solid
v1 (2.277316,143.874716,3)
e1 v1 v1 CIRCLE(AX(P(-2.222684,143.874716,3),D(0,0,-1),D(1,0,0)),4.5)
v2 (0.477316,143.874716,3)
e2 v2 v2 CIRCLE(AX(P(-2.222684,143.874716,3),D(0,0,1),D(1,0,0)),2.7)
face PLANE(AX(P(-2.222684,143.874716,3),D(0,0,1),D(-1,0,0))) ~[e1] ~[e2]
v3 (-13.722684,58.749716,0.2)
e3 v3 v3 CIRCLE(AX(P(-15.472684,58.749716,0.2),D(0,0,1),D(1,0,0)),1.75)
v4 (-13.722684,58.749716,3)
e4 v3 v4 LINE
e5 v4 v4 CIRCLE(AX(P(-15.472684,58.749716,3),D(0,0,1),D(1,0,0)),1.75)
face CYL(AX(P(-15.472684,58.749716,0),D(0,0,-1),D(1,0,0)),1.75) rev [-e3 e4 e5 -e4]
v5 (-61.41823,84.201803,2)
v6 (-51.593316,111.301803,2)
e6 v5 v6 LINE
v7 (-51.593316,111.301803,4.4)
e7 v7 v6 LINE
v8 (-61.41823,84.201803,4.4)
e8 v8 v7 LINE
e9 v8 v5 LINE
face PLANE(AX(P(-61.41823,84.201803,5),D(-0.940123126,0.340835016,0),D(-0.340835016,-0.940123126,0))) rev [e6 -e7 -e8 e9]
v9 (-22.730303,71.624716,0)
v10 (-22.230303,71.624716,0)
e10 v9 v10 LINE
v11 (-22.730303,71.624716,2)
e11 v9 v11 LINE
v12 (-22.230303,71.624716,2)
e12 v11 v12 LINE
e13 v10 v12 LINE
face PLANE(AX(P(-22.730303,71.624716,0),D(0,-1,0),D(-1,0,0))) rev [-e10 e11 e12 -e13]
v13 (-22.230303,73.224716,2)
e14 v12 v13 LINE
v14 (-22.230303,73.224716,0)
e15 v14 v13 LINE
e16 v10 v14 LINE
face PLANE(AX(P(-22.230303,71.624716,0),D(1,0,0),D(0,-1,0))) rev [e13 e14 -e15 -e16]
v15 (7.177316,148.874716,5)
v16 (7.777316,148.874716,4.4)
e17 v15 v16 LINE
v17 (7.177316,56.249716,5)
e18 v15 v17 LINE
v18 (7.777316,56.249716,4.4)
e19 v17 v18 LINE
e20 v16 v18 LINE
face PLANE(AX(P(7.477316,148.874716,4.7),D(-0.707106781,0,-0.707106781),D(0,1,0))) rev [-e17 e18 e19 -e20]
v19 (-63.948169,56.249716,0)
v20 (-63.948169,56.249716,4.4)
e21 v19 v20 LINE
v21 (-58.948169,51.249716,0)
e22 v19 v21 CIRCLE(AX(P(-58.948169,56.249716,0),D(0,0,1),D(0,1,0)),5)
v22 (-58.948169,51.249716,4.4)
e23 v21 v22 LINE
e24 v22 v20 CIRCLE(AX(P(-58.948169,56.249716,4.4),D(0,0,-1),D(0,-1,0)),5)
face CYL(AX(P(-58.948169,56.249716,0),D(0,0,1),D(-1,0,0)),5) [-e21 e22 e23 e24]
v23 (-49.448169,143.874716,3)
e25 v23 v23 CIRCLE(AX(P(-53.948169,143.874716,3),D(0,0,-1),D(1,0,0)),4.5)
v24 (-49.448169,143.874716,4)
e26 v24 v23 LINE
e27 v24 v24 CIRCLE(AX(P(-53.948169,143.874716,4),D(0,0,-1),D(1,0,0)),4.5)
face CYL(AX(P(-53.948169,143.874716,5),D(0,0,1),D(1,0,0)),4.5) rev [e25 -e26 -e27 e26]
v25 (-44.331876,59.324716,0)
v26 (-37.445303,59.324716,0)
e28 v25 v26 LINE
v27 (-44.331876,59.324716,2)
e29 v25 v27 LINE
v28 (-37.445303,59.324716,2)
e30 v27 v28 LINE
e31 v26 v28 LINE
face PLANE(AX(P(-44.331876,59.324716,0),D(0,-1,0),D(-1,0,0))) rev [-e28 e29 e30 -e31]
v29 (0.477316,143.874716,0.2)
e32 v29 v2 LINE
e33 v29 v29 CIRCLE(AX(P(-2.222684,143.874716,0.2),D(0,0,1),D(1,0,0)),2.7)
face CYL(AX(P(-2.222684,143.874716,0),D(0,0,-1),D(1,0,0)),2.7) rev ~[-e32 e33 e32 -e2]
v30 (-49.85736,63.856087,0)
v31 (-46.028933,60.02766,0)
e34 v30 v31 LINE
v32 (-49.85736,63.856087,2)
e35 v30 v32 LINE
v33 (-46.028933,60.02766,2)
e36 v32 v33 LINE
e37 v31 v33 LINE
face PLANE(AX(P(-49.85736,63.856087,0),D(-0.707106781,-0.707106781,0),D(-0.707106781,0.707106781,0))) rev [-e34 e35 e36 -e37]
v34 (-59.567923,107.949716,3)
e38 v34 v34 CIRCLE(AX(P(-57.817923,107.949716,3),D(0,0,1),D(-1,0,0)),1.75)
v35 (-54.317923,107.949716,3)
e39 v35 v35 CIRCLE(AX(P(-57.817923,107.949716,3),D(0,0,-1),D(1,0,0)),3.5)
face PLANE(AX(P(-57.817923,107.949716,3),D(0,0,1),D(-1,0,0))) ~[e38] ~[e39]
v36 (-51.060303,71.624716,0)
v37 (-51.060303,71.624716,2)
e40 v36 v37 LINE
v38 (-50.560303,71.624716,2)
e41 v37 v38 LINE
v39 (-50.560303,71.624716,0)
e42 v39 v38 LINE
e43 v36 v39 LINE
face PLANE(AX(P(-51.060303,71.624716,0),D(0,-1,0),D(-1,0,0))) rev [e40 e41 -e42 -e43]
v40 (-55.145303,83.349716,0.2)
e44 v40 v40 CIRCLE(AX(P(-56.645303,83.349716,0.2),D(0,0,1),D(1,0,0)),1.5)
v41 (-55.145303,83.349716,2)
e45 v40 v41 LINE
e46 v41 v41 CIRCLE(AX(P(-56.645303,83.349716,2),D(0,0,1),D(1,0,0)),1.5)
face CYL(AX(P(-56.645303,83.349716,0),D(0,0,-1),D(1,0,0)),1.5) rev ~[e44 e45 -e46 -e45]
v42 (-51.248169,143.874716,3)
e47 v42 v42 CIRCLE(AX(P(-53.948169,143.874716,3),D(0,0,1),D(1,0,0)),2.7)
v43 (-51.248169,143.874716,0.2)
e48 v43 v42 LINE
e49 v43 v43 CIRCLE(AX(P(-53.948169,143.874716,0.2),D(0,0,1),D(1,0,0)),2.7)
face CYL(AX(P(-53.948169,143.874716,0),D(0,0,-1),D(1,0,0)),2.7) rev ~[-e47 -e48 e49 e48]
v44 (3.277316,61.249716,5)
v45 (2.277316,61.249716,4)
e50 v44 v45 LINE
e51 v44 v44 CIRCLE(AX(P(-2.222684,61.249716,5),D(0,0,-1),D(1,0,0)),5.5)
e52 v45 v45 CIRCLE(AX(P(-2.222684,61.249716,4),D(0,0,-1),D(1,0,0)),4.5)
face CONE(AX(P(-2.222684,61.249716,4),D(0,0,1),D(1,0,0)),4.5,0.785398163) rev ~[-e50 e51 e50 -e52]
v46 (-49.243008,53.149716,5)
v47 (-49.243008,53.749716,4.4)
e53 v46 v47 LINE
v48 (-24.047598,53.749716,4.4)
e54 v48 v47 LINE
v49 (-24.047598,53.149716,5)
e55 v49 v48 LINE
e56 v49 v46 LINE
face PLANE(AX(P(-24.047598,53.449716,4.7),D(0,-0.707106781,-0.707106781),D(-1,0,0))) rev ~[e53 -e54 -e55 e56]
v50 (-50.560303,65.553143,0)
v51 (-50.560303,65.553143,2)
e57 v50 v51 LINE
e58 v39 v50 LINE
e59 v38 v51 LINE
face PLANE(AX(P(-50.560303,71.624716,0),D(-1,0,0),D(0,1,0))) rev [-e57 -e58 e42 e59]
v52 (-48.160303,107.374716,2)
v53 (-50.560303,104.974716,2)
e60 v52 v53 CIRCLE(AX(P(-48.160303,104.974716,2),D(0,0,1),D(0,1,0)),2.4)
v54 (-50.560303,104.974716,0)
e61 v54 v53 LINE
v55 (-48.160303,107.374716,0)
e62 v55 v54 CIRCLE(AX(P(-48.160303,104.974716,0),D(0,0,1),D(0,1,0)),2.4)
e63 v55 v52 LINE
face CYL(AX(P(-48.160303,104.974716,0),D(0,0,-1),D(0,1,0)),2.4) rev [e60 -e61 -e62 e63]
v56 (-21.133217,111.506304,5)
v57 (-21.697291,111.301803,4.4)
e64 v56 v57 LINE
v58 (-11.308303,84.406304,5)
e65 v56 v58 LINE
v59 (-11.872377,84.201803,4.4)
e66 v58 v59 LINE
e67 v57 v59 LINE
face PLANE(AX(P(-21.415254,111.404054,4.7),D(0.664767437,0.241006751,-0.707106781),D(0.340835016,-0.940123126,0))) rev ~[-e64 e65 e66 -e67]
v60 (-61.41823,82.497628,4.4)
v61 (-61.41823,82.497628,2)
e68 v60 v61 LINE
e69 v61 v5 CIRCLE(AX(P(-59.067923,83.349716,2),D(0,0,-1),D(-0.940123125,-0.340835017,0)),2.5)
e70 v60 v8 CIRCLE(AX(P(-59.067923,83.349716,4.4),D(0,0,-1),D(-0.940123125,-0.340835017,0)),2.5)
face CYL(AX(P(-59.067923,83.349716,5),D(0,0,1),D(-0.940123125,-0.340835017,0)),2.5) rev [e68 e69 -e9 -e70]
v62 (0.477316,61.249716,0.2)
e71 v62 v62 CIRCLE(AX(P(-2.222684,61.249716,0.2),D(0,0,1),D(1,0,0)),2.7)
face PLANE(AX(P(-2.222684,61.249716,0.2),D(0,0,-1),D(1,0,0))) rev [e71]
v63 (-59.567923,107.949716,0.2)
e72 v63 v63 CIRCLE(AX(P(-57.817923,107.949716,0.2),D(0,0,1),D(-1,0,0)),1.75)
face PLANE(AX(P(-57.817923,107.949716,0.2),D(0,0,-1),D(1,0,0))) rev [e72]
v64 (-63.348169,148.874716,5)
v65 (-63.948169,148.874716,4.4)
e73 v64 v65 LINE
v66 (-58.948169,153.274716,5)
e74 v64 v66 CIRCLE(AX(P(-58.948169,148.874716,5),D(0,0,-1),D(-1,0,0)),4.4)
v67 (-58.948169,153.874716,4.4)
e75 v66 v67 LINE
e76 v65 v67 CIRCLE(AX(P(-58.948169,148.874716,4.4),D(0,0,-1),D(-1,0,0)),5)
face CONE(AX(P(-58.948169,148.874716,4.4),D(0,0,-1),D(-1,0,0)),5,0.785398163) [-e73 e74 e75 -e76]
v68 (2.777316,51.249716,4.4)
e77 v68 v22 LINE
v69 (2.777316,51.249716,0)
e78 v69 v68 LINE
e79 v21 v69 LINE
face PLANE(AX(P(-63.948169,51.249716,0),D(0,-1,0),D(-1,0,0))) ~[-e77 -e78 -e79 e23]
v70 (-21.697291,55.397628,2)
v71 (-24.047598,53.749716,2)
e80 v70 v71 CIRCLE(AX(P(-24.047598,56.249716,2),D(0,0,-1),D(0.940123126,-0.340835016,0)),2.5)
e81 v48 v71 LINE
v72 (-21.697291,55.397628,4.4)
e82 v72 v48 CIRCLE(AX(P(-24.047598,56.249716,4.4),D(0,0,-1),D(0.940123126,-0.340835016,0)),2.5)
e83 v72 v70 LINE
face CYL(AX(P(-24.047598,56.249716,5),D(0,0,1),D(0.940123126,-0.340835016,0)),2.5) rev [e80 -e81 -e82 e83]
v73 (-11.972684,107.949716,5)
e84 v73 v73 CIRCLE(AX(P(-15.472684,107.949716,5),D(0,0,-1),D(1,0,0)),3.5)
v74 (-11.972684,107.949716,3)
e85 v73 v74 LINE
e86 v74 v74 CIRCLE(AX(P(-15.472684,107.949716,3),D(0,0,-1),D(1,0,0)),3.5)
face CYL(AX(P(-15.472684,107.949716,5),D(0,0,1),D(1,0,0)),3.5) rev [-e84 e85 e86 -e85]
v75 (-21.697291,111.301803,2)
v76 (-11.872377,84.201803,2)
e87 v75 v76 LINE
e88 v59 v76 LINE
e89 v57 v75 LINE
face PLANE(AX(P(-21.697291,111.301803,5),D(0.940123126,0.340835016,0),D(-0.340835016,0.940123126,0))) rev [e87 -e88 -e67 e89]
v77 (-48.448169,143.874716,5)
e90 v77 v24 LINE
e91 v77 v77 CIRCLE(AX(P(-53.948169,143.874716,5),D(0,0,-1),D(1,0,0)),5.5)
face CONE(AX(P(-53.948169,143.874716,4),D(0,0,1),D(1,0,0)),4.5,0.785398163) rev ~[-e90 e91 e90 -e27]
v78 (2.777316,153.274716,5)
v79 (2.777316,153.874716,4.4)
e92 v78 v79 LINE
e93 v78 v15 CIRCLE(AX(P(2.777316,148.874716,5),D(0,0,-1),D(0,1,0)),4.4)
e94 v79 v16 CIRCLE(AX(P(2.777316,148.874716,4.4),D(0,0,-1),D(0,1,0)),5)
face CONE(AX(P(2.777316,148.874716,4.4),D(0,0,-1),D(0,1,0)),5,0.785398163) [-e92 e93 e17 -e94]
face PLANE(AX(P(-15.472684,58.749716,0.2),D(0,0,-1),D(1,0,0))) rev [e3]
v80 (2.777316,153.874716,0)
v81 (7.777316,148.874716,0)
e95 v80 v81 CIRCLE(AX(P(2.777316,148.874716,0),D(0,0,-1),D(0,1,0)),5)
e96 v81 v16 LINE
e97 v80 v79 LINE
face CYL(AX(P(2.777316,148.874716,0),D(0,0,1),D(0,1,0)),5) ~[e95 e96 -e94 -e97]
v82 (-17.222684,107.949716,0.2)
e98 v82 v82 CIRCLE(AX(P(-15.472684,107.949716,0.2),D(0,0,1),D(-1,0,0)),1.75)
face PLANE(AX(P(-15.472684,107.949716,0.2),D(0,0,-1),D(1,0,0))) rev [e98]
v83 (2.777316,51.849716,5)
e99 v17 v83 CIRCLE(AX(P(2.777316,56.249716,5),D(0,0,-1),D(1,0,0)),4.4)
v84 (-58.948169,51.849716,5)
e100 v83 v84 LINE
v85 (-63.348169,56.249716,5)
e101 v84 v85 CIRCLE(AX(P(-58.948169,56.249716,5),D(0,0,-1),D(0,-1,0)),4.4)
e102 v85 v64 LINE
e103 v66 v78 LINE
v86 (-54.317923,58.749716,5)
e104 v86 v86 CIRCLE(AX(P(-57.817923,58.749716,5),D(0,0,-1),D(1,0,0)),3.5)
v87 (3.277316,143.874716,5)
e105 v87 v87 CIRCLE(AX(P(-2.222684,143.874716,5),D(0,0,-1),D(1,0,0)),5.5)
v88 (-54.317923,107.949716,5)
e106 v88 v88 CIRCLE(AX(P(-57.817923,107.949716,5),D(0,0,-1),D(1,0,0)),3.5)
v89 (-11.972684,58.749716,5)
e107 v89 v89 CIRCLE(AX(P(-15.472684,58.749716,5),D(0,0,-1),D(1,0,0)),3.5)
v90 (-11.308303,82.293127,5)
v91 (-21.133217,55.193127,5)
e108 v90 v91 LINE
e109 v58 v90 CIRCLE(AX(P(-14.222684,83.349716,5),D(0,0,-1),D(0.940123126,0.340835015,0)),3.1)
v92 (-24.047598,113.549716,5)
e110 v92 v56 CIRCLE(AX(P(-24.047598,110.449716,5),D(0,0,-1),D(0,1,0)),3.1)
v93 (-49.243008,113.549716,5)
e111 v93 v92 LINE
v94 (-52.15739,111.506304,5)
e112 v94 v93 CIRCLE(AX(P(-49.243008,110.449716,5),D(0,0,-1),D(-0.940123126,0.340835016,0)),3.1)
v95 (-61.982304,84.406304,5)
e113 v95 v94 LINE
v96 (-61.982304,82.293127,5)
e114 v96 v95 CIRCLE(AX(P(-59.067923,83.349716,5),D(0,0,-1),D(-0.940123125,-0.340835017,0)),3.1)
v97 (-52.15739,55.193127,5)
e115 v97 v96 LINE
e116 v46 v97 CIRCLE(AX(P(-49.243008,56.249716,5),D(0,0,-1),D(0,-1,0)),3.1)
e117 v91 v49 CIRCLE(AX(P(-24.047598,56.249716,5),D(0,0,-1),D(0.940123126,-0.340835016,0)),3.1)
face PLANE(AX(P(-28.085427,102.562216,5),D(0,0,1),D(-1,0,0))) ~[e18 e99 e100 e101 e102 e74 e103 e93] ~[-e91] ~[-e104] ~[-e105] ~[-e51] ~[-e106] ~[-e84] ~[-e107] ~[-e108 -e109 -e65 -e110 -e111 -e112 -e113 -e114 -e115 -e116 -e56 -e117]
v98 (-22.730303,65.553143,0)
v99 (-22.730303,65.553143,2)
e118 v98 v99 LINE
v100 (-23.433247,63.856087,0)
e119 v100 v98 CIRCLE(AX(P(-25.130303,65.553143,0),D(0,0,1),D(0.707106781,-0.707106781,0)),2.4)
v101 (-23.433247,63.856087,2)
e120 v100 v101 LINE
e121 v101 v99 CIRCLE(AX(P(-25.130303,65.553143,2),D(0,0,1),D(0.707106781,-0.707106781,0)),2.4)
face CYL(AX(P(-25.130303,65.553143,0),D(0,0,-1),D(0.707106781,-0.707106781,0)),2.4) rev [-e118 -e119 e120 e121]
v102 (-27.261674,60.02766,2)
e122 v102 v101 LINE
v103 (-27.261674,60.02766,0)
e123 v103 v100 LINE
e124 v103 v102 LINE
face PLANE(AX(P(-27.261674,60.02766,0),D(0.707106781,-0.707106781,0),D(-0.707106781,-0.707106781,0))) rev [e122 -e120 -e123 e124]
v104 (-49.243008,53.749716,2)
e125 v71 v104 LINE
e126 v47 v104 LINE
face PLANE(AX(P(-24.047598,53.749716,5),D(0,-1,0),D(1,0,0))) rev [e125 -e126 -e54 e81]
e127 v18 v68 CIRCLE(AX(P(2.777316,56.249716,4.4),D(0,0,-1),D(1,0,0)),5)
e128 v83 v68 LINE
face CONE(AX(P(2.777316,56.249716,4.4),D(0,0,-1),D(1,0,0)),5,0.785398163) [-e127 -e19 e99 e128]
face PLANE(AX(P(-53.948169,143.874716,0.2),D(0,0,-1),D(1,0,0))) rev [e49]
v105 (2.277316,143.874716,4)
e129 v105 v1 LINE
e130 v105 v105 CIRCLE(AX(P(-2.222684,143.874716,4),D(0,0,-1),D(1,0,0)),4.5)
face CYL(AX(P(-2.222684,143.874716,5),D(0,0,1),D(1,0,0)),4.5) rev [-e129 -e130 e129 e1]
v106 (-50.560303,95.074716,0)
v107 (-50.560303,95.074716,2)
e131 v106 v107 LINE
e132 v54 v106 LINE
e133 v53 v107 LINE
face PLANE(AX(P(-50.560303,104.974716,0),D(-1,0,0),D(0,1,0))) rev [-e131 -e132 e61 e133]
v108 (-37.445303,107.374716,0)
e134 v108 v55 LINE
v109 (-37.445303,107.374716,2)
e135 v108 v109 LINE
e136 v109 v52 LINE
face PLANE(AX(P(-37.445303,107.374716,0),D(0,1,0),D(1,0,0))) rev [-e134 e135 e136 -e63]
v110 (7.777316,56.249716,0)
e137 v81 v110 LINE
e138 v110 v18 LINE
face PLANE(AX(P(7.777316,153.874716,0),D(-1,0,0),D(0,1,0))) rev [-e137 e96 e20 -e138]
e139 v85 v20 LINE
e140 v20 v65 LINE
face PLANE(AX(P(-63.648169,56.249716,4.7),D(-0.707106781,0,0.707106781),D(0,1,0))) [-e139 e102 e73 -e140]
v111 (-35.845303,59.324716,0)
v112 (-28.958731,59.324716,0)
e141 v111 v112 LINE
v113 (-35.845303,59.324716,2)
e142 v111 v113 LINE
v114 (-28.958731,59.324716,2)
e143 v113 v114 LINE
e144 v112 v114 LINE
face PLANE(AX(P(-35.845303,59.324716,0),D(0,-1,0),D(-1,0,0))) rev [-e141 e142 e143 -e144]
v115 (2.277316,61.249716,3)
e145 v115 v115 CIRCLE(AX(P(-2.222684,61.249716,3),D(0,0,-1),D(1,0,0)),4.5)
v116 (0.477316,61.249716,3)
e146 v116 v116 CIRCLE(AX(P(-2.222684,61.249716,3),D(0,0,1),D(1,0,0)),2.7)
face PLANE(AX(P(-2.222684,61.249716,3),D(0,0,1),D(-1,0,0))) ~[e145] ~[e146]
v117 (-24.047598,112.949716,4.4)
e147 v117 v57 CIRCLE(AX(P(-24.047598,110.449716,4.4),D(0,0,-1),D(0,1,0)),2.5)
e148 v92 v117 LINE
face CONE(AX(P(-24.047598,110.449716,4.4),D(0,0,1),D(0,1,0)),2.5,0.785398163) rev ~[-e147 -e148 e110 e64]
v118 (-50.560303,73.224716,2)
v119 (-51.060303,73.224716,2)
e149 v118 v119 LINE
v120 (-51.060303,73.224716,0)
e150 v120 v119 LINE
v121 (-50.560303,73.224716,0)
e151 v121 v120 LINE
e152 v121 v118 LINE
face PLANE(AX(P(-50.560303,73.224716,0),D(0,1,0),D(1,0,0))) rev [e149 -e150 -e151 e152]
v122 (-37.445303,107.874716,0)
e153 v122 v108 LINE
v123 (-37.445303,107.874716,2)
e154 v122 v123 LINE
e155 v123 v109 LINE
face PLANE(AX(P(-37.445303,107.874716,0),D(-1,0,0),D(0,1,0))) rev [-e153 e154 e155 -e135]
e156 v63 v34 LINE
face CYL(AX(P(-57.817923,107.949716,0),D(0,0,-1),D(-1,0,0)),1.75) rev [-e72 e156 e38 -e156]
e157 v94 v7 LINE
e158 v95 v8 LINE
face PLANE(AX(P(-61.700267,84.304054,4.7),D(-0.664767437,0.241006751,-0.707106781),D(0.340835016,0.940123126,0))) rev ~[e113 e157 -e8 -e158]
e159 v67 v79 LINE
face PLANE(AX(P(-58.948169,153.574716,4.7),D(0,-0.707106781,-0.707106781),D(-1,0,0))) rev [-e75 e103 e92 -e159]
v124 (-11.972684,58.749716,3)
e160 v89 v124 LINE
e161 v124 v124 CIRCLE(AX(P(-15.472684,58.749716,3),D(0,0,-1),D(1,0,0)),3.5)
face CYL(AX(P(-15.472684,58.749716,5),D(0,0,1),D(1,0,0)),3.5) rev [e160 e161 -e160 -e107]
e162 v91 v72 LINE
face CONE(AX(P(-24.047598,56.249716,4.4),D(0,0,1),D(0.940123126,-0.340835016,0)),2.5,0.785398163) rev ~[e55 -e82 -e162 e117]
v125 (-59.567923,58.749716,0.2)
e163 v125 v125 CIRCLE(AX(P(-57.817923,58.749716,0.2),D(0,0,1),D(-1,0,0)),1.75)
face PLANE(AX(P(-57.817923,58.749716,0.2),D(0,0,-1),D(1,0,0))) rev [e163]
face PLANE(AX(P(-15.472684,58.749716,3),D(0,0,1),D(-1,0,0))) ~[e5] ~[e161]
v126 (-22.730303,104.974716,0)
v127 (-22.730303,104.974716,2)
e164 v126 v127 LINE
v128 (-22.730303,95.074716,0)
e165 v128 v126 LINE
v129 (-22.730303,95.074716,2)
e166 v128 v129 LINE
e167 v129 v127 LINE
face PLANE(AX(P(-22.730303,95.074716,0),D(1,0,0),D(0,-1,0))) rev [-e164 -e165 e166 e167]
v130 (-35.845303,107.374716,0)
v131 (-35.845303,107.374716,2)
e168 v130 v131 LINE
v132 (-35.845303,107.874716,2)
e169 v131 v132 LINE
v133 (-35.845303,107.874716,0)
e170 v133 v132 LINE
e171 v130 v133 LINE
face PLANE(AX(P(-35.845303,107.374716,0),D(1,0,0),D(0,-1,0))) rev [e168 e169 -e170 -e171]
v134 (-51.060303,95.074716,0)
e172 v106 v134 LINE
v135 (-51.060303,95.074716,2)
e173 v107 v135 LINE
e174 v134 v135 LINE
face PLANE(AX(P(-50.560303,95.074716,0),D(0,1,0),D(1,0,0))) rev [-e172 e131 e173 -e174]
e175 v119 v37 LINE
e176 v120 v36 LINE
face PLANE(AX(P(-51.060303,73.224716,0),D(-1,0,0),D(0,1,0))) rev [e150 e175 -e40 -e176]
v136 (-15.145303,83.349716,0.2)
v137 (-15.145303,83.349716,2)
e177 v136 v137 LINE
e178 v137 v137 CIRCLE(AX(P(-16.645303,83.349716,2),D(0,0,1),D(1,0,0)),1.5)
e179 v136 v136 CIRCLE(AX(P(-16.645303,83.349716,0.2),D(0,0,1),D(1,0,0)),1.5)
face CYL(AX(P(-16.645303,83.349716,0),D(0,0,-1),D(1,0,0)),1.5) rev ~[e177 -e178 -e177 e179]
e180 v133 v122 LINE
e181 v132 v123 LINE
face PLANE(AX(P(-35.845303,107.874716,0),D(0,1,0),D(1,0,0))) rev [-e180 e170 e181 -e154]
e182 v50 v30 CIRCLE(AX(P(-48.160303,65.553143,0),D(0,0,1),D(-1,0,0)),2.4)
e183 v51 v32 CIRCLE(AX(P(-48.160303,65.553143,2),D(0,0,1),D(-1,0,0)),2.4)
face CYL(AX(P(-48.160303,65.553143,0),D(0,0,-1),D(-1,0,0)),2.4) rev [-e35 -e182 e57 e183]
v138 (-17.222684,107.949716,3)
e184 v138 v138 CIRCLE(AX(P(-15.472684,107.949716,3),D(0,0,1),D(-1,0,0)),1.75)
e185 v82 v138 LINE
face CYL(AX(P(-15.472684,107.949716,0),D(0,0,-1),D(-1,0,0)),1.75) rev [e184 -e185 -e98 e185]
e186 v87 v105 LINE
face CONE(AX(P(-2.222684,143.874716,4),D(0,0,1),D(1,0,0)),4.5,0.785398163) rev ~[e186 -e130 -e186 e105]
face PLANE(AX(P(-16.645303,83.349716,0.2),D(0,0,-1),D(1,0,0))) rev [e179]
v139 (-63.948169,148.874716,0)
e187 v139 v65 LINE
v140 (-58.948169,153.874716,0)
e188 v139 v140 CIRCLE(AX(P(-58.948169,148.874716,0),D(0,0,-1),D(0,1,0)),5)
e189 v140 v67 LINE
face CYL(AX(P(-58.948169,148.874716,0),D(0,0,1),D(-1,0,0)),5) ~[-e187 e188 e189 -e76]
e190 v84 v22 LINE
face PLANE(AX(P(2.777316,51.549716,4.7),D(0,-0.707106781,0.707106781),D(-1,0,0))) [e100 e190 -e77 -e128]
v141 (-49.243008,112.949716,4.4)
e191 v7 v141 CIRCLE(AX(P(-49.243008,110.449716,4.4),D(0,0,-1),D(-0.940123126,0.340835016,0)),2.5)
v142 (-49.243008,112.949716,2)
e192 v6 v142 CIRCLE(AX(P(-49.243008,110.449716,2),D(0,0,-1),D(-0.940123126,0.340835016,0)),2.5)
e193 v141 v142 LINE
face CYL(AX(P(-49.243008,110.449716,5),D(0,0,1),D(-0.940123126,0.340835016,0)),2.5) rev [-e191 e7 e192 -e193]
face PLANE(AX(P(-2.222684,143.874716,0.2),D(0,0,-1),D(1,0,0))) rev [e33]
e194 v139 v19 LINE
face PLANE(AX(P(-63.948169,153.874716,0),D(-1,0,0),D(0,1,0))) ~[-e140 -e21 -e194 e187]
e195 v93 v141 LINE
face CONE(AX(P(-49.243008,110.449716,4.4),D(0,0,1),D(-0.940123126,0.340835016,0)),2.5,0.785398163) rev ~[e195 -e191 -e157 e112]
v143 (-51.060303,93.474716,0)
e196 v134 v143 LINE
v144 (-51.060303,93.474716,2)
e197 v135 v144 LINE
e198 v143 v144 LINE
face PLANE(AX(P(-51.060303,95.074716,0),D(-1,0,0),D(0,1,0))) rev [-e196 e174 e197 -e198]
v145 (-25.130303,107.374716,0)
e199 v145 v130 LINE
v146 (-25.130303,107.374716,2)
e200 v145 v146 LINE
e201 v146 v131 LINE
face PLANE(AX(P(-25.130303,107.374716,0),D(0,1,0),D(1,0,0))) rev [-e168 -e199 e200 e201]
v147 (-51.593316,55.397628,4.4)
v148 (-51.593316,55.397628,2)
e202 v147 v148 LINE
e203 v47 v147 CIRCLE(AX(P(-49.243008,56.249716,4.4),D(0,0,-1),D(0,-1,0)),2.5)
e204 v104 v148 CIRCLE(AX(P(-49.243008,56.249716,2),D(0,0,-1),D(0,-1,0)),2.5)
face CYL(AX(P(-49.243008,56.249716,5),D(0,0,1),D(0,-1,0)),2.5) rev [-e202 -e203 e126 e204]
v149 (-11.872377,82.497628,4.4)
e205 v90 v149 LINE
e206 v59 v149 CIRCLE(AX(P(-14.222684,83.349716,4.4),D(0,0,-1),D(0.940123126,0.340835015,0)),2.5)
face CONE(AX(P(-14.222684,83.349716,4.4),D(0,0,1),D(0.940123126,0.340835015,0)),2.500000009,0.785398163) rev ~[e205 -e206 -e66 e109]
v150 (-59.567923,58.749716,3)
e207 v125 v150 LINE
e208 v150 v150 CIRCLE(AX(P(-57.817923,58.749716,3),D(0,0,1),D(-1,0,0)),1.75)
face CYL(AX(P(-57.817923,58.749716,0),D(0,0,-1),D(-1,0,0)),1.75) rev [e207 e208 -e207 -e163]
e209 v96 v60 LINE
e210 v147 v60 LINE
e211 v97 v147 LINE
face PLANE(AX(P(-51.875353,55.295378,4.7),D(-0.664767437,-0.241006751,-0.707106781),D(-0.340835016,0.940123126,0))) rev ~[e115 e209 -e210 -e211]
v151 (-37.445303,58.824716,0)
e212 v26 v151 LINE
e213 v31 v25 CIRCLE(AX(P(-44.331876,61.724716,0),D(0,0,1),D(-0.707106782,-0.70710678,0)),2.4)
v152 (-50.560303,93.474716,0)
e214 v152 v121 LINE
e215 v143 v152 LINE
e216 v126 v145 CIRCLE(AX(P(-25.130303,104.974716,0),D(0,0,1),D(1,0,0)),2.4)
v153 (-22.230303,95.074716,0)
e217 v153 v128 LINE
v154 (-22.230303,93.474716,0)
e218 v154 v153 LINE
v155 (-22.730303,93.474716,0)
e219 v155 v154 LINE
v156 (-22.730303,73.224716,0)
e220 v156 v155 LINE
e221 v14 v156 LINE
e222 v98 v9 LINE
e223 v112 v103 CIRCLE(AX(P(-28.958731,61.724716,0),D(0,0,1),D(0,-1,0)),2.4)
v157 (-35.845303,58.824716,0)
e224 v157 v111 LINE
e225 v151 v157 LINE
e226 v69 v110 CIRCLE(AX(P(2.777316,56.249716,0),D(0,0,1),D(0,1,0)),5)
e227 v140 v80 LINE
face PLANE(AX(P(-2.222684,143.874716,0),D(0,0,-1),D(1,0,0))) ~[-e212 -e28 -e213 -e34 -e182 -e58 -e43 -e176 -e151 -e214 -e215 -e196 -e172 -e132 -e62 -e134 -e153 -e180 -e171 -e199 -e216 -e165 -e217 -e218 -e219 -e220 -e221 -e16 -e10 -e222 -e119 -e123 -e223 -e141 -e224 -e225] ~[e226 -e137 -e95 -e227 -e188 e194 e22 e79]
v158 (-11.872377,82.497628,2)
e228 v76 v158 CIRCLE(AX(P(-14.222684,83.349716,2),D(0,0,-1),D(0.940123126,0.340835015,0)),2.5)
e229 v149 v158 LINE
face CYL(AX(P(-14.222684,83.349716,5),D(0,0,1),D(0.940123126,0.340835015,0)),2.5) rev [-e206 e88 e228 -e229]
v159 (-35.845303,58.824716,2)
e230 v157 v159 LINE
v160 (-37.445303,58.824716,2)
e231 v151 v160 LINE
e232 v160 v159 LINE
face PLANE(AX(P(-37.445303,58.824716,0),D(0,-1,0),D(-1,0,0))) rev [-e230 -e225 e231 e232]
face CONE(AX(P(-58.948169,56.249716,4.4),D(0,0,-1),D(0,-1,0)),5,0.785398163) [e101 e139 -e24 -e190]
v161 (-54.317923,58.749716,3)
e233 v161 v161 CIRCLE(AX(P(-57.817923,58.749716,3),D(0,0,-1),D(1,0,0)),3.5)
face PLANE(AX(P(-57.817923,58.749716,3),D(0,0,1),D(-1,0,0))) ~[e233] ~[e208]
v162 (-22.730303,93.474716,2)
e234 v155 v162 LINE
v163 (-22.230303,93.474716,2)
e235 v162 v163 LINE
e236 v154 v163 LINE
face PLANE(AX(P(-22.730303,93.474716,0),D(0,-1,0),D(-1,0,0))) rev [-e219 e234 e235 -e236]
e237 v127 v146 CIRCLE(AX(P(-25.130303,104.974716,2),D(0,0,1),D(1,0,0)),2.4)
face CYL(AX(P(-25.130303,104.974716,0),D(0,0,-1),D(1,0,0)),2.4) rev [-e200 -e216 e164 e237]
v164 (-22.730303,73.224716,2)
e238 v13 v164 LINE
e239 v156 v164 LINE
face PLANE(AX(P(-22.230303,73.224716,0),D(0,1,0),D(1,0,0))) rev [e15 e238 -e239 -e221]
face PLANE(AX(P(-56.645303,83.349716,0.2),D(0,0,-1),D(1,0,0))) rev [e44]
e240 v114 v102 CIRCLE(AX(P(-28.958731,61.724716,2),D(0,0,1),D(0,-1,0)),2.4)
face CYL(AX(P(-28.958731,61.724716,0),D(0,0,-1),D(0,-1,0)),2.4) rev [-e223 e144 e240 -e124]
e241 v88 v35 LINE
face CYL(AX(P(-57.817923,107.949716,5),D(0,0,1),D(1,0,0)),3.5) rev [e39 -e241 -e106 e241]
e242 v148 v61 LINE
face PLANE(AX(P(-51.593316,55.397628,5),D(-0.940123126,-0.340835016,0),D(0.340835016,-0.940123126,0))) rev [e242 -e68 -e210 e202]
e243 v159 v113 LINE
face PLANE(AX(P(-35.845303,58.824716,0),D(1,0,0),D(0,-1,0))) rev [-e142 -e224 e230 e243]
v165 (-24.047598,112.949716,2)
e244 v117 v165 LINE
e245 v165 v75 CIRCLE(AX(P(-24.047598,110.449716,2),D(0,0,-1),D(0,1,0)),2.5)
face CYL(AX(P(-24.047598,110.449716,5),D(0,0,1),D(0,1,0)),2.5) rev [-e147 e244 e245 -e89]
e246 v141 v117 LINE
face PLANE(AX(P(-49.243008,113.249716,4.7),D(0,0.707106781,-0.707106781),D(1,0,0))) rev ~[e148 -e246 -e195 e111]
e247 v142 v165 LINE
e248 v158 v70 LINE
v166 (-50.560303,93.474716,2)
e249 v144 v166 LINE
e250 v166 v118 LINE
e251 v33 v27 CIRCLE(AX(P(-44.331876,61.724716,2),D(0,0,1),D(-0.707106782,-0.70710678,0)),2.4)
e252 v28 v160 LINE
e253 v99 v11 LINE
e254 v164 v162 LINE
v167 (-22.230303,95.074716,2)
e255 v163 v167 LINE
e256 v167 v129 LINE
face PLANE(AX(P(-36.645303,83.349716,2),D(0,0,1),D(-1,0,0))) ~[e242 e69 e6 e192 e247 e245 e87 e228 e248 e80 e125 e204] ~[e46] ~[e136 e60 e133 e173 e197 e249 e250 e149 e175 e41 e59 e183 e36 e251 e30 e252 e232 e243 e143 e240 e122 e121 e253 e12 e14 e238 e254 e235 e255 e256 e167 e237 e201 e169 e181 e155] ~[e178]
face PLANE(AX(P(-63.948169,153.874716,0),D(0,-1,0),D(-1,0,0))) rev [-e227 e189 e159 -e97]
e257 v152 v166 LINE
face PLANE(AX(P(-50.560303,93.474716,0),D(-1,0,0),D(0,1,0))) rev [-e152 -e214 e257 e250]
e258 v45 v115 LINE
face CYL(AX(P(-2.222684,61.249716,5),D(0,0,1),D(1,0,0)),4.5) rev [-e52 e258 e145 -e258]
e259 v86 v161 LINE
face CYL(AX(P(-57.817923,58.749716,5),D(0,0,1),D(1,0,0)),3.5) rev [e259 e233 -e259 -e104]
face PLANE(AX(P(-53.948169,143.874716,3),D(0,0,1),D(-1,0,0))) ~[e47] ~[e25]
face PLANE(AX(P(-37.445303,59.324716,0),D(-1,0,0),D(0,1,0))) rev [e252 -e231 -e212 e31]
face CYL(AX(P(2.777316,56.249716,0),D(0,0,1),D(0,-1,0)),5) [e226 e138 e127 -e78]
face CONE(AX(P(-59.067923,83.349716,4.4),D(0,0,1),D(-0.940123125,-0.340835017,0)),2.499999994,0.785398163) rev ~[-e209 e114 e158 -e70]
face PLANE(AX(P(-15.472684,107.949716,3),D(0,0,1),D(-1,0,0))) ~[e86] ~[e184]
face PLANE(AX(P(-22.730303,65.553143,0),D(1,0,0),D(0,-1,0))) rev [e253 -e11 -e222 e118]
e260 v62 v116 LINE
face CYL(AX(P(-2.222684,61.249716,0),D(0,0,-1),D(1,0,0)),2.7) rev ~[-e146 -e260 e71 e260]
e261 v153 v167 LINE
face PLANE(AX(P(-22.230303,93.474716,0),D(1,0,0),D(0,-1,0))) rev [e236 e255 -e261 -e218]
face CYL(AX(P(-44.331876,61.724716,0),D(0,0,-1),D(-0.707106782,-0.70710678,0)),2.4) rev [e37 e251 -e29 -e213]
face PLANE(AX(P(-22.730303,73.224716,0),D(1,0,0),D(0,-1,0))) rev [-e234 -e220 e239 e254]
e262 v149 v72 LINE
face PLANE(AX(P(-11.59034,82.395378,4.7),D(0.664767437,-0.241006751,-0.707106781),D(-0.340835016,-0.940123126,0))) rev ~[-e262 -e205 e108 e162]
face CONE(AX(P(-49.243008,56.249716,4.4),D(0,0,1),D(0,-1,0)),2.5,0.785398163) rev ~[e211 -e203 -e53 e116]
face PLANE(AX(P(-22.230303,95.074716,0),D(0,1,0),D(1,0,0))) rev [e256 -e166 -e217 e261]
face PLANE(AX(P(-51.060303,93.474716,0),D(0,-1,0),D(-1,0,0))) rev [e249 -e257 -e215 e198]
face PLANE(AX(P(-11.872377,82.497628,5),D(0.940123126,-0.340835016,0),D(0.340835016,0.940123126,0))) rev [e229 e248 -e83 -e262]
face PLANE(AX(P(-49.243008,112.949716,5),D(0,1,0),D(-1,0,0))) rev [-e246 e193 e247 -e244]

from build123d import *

# Parameters (mm, degrees)
SZKIC1_W                        = 71.725484412
SZKIC1_H                        = 102.625
SZKIC1_R                        = 2.7
SZKIC1_R_2                      = 1.5
DODANIE_WYCI_GNI_CIE1_DEPTH     = 5
WYTNIJ_WYCI_GNI_CIE1_START      = 5
WYTNIJ_WYCI_GNI_CIE1_DEPTH      = 3
SZKIC2_R                        = 4.5
WYTNIJ_WYCI_GNI_CIE2_DEPTH      = 2
ZAOKR_GLENIE1_R                 = 5
SFAZOWANIE2_SIZE                = 1
SZKIC4_R                        = 1.75
WYTNIJ_WYCI_GNI_CIE3_DEPTH      = 83.181434095
SZKIC5_R                        = 3.5
WYTNIJ_WYCI_GNI_CIE4_DEPTH      = 2
SFAZOWANIE3_SIZE                = 0.6
SZKIC8_R                        = 2.7
SZKIC8_R_2                      = 1.75
SZKIC8_R_3                      = 1.5
DODANIE_WYCI_GNI_CIE2_DEPTH     = 0.2
WYTNIJ_WYCI_GNI_CIE5_DEPTH      = 167.708717442
WYTNIJ_WYCI_GNI_CIE5_DEPTH_BACK = 167.708717442


with BuildPart() as part:
    # Szkic1 → Dodanie-wyciągnięcie1 (new body)
    with BuildSketch(Plane.XY):
        with Locations((-28.085426569, -0.062784138)):
            Rectangle(SZKIC1_W, SZKIC1_H)
        with Locations((-53.948168775, -41.375284138)):
            Circle(SZKIC1_R, mode=Mode.SUBTRACT)
        with Locations((-2.222684363, -41.375284138)):
            Circle(SZKIC1_R, mode=Mode.SUBTRACT)
        with Locations((-2.222684363, 41.249715862)):
            Circle(SZKIC1_R, mode=Mode.SUBTRACT)
        with BuildLine():
            Line((-22.230303443, 29.274715862), (-22.730303443, 29.274715862))
            Line((-22.730303443, 29.274715862), (-22.730303443, 9.024715862))
            Line((-22.730303443, 9.024715862), (-22.230303443, 9.024715862))
            Line((-22.230303443, 9.024715862), (-22.230303443, 7.424715862))
            Line((-22.230303443, 7.424715862), (-22.730303443, 7.424715862))
            Line((-22.730303443, 7.424715862), (-22.730303443, -2.475284138))
            ThreePointArc((-22.730303443, -2.475284138), (-23.433247168, -4.172340413), (-25.130303443, -4.875284138))
            Line((-25.130303443, -4.875284138), (-35.845303443, -4.875284138))
            Line((-35.845303443, -4.875284138), (-35.845303443, -5.375284138))
            Line((-35.845303443, -5.375284138), (-37.445303443, -5.375284138))
            Line((-37.445303443, -5.375284138), (-37.445303443, -4.875284138))
            Line((-37.445303443, -4.875284138), (-48.160303443, -4.875284138))
            ThreePointArc((-48.160303443, -4.875284138), (-49.857359718, -4.172340413), (-50.560303443, -2.475284138))
            Line((-50.560303443, -2.475284138), (-50.560303443, 7.424715862))
            Line((-50.560303443, 7.424715862), (-51.060303443, 7.424715862))
            Line((-51.060303443, 7.424715862), (-51.060303443, 9.024715862))
            Line((-51.060303443, 9.024715862), (-50.560303443, 9.024715862))
            Line((-50.560303443, 9.024715862), (-50.560303443, 29.274715862))
            Line((-50.560303443, 29.274715862), (-51.060303443, 29.274715862))
            Line((-51.060303443, 29.274715862), (-51.060303443, 30.874715862))
            Line((-51.060303443, 30.874715862), (-50.560303443, 30.874715862))
            Line((-50.560303443, 30.874715862), (-50.560303443, 36.946288737))
            ThreePointArc((-50.560303443, 36.946288737), (-50.377614321, 37.864728975), (-49.857359718, 38.643345012))
            Line((-49.857359718, 38.643345012), (-46.028932593, 42.471772136))
            ThreePointArc((-46.028932593, 42.471772136), (-45.250316556, 42.99202674), (-44.331876318, 43.174715862))
            Line((-44.331876318, 43.174715862), (-37.445303443, 43.174715862))
            Line((-37.445303443, 43.174715862), (-37.445303443, 43.674715862))
            Line((-37.445303443, 43.674715862), (-35.845303443, 43.674715862))
            Line((-35.845303443, 43.674715862), (-35.845303443, 43.174715862))
            Line((-35.845303443, 43.174715862), (-28.958730568, 43.174715862))
            ThreePointArc((-28.958730568, 43.174715862), (-28.04029033, 42.99202674), (-27.261674293, 42.471772136))
            Line((-27.261674293, 42.471772136), (-23.433247168, 38.643345012))
            ThreePointArc((-23.433247168, 38.643345012), (-22.912992565, 37.864728975), (-22.730303443, 36.946288737))
            Line((-22.730303443, 36.946288737), (-22.730303443, 30.874715862))
            Line((-22.730303443, 30.874715862), (-22.230303443, 30.874715862))
            Line((-22.230303443, 30.874715862), (-22.230303443, 29.274715862))
        make_face(mode=Mode.SUBTRACT)
        with Locations((-16.645303443, 19.149715862)):
            Circle(SZKIC1_R_2, mode=Mode.SUBTRACT)
        with Locations((-56.645303443, 19.149715862)):
            Circle(SZKIC1_R_2, mode=Mode.SUBTRACT)
    extrude(amount=DODANIE_WYCI_GNI_CIE1_DEPTH)

    # Szkic1<3> → Wytnij-wyciągnięcie1 (cut)
    with BuildSketch(Plane.XY.offset(WYTNIJ_WYCI_GNI_CIE1_START)):
        with BuildLine():
            Line((-51.593316248, 47.101803403), (-61.418230337, 20.001803403))
            ThreePointArc((-61.418230337, 20.001803403), (-61.567922523, 19.149715862), (-61.418230337, 18.297628321))
            Line((-61.418230337, 18.297628321), (-51.593316248, -8.802371679))
            ThreePointArc((-51.593316248, -8.802371679), (-50.678240322, -9.997259816), (-49.243008434, -10.450284138))
            Line((-49.243008434, -10.450284138), (-24.047598452, -10.450284138))
            ThreePointArc((-24.047598452, -10.450284138), (-22.612366563, -9.997259816), (-21.697290637, -8.802371679))
            Line((-21.697290637, -8.802371679), (-11.872376548, 18.297628321))
            ThreePointArc((-11.872376548, 18.297628321), (-11.722684363, 19.149715862), (-11.872376548, 20.001803403))
            Line((-11.872376548, 20.001803403), (-21.697290637, 47.101803403))
            ThreePointArc((-21.697290637, 47.101803403), (-22.612366563, 48.29669154), (-24.047598452, 48.749715862))
            Line((-24.047598452, 48.749715862), (-49.243008434, 48.749715862))
            ThreePointArc((-49.243008434, 48.749715862), (-50.678240322, 48.29669154), (-51.593316248, 47.101803403))
        make_face()
    extrude(amount=-WYTNIJ_WYCI_GNI_CIE1_DEPTH, mode=Mode.SUBTRACT)

    # Szkic2 → Wytnij-wyciągnięcie2 (cut)
    with BuildSketch(Plane.XY.offset(5)):
        with Locations((-2.222684363, 41.249715862)):
            Circle(SZKIC2_R)
        with Locations((-2.222684363, -41.375284138)):
            Circle(SZKIC2_R)
        with Locations((-53.948168775, -41.375284138)):
            Circle(SZKIC2_R)
    extrude(amount=-WYTNIJ_WYCI_GNI_CIE2_DEPTH, mode=Mode.SUBTRACT)

    # Zaokrąglenie1
    zaokr_glenie1_edges = [part.edges().sort_by_distance(p)[0] for p in [
        (-63.948168775, 51.249715862, 2.5),
        (7.777315637, 51.249715862, 2.5),
        (7.777315637, -51.375284138, 2.5),
        (-63.948168775, -51.375284138, 2.5),
    ]]
    fillet(zaokr_glenie1_edges, radius=ZAOKR_GLENIE1_R)

    # Sfazowanie2
    sfazowanie2_edges = [part.edges().sort_by_distance(p)[0] for p in [
        (-6.722684363, 41.249715862, 5),
        (-6.722684363, -41.375284138, 5),
        (-58.448168775, -41.375284138, 5),
    ]]
    chamfer(sfazowanie2_edges, length=SFAZOWANIE2_SIZE)

    # Szkic4 → Wytnij-wyciągnięcie3 (cut, through all)
    with BuildSketch(Plane(origin=(0, 0, 0), x_dir=(-1, 0, 0), z_dir=(0, 0, -1))):
        with Locations((15.472684363, -5.450284138)):
            Circle(SZKIC4_R)
        with Locations(Location((15.472684363, 43.749715862, 0), (0, 0, 180))):
            Circle(SZKIC4_R)
        with Locations((57.817922523, 43.749715862)):
            Circle(SZKIC4_R)
        with Locations((57.817922523, -5.450284138)):
            Circle(SZKIC4_R)
    extrude(amount=-WYTNIJ_WYCI_GNI_CIE3_DEPTH, mode=Mode.SUBTRACT)

    # Szkic5 → Wytnij-wyciągnięcie4 (cut)
    with BuildSketch(Plane.XY.offset(5)):
        with Locations((-15.472684363, 43.749715862)):
            Circle(SZKIC5_R)
        with Locations((-15.472684363, -5.450284138)):
            Circle(SZKIC5_R)
        with Locations((-57.817922523, -5.450284138)):
            Circle(SZKIC5_R)
        with Locations((-57.817922523, 43.749715862)):
            Circle(SZKIC5_R)
    extrude(amount=-WYTNIJ_WYCI_GNI_CIE4_DEPTH, mode=Mode.SUBTRACT)

    # Sfazowanie3
    sfazowanie3_edges = [part.edges().sort_by_distance(p)[0] for p in [
        (-16.784833593, 4.747628321, 5),
        (-36.645303443, -10.450284138, 5),
        (-56.505773293, 4.747628321, 5),
        (-56.505773293, 33.551803403, 5),
        (-36.645303443, 48.749715862, 5),
        (-16.784833593, 33.551803403, 5),
        (-11.722684363, 19.149715862, 5),
        (-22.612366563, 48.29669154, 5),
        (-50.678240322, 48.29669154, 5),
        (-61.567922523, 19.149715862, 5),
        (-50.678240322, -9.997259816, 5),
        (-22.612366563, -9.997259816, 5),
        (-28.085426569, -51.375284138, 5),
        (-63.948168775, -0.062784138, 5),
        (7.777315637, -0.062784138, 5),
        (-28.085426569, 51.249715862, 5),
        (-62.48370268, 49.785249768, 5),
        (6.312849543, 49.785249768, 5),
        (6.312849543, -49.910818044, 5),
        (-62.48370268, -49.910818044, 5),
    ]]
    chamfer(sfazowanie3_edges, length=SFAZOWANIE3_SIZE)

    # Szkic8 → Dodanie-wyciągnięcie2 (add)
    with BuildSketch(Plane(origin=(0, 0, 0), x_dir=(-1, 0, 0), z_dir=(0, 0, -1))):
        with Locations((2.222684363, -41.375284138)):
            Circle(SZKIC8_R)
        with Locations((53.948168775, -41.375284138)):
            Circle(SZKIC8_R)
        with Locations((2.222684363, 41.249715862)):
            Circle(SZKIC8_R)
        with Locations((57.817922523, 43.749715862)):
            Circle(SZKIC8_R_2)
        with Locations((56.645303443, 19.149715862)):
            Circle(SZKIC8_R_3)
        with Locations((57.817922523, -5.450284138)):
            Circle(SZKIC8_R_2)
        with Locations((15.472684363, -5.450284138)):
            Circle(SZKIC8_R_2)
        with Locations((16.645303443, 19.149715862)):
            Circle(SZKIC8_R_3)
        with Locations((15.472684363, 43.749715862)):
            Circle(SZKIC8_R_2)
    extrude(amount=-DODANIE_WYCI_GNI_CIE2_DEPTH)


with BuildPart() as body_2:
    # Lustro1: mirrored copy
    add(part.part.mirror(Plane(origin=(0, 51.249715862, 5), x_dir=(0, 0, 1), z_dir=(0, -1, 0))))


with BuildPart() as part_1:
    add(part.part)

    # Szkic9 → Wytnij-wyciągnięcie5 (cut, two sides: drawn at the far end of the back side and taken through both)
    with BuildSketch(Plane(origin=(0, 0, 0), x_dir=(-1, 0, 0), z_dir=(0, 0, -1)).offset(-WYTNIJ_WYCI_GNI_CIE5_DEPTH_BACK)):
        with BuildLine():
            Line((-2.777315637, -51.375284138), (58.948168775, -51.375284138))
            ThreePointArc((58.948168775, -51.375284138), (62.48370268, -49.910818044), (63.948168775, -46.375284138))
            Line((63.948168775, -46.375284138), (63.948168775, 46.249715862))
            ThreePointArc((63.948168775, 46.249715862), (62.48370268, 49.785249768), (58.948168775, 51.249715862))
            Line((58.948168775, 51.249715862), (-2.777315637, 51.249715862))
            ThreePointArc((-2.777315637, 51.249715862), (-6.312849543, 49.785249768), (-7.777315637, 46.249715862))
            Line((-7.777315637, 46.249715862), (-7.777315637, -46.375284138))
            ThreePointArc((-7.777315637, -46.375284138), (-6.312849543, -49.910818044), (-2.777315637, -51.375284138))
        make_face()
    extrude(amount=WYTNIJ_WYCI_GNI_CIE5_DEPTH + WYTNIJ_WYCI_GNI_CIE5_DEPTH_BACK, mode=Mode.SUBTRACT)


solid = body_2.part
